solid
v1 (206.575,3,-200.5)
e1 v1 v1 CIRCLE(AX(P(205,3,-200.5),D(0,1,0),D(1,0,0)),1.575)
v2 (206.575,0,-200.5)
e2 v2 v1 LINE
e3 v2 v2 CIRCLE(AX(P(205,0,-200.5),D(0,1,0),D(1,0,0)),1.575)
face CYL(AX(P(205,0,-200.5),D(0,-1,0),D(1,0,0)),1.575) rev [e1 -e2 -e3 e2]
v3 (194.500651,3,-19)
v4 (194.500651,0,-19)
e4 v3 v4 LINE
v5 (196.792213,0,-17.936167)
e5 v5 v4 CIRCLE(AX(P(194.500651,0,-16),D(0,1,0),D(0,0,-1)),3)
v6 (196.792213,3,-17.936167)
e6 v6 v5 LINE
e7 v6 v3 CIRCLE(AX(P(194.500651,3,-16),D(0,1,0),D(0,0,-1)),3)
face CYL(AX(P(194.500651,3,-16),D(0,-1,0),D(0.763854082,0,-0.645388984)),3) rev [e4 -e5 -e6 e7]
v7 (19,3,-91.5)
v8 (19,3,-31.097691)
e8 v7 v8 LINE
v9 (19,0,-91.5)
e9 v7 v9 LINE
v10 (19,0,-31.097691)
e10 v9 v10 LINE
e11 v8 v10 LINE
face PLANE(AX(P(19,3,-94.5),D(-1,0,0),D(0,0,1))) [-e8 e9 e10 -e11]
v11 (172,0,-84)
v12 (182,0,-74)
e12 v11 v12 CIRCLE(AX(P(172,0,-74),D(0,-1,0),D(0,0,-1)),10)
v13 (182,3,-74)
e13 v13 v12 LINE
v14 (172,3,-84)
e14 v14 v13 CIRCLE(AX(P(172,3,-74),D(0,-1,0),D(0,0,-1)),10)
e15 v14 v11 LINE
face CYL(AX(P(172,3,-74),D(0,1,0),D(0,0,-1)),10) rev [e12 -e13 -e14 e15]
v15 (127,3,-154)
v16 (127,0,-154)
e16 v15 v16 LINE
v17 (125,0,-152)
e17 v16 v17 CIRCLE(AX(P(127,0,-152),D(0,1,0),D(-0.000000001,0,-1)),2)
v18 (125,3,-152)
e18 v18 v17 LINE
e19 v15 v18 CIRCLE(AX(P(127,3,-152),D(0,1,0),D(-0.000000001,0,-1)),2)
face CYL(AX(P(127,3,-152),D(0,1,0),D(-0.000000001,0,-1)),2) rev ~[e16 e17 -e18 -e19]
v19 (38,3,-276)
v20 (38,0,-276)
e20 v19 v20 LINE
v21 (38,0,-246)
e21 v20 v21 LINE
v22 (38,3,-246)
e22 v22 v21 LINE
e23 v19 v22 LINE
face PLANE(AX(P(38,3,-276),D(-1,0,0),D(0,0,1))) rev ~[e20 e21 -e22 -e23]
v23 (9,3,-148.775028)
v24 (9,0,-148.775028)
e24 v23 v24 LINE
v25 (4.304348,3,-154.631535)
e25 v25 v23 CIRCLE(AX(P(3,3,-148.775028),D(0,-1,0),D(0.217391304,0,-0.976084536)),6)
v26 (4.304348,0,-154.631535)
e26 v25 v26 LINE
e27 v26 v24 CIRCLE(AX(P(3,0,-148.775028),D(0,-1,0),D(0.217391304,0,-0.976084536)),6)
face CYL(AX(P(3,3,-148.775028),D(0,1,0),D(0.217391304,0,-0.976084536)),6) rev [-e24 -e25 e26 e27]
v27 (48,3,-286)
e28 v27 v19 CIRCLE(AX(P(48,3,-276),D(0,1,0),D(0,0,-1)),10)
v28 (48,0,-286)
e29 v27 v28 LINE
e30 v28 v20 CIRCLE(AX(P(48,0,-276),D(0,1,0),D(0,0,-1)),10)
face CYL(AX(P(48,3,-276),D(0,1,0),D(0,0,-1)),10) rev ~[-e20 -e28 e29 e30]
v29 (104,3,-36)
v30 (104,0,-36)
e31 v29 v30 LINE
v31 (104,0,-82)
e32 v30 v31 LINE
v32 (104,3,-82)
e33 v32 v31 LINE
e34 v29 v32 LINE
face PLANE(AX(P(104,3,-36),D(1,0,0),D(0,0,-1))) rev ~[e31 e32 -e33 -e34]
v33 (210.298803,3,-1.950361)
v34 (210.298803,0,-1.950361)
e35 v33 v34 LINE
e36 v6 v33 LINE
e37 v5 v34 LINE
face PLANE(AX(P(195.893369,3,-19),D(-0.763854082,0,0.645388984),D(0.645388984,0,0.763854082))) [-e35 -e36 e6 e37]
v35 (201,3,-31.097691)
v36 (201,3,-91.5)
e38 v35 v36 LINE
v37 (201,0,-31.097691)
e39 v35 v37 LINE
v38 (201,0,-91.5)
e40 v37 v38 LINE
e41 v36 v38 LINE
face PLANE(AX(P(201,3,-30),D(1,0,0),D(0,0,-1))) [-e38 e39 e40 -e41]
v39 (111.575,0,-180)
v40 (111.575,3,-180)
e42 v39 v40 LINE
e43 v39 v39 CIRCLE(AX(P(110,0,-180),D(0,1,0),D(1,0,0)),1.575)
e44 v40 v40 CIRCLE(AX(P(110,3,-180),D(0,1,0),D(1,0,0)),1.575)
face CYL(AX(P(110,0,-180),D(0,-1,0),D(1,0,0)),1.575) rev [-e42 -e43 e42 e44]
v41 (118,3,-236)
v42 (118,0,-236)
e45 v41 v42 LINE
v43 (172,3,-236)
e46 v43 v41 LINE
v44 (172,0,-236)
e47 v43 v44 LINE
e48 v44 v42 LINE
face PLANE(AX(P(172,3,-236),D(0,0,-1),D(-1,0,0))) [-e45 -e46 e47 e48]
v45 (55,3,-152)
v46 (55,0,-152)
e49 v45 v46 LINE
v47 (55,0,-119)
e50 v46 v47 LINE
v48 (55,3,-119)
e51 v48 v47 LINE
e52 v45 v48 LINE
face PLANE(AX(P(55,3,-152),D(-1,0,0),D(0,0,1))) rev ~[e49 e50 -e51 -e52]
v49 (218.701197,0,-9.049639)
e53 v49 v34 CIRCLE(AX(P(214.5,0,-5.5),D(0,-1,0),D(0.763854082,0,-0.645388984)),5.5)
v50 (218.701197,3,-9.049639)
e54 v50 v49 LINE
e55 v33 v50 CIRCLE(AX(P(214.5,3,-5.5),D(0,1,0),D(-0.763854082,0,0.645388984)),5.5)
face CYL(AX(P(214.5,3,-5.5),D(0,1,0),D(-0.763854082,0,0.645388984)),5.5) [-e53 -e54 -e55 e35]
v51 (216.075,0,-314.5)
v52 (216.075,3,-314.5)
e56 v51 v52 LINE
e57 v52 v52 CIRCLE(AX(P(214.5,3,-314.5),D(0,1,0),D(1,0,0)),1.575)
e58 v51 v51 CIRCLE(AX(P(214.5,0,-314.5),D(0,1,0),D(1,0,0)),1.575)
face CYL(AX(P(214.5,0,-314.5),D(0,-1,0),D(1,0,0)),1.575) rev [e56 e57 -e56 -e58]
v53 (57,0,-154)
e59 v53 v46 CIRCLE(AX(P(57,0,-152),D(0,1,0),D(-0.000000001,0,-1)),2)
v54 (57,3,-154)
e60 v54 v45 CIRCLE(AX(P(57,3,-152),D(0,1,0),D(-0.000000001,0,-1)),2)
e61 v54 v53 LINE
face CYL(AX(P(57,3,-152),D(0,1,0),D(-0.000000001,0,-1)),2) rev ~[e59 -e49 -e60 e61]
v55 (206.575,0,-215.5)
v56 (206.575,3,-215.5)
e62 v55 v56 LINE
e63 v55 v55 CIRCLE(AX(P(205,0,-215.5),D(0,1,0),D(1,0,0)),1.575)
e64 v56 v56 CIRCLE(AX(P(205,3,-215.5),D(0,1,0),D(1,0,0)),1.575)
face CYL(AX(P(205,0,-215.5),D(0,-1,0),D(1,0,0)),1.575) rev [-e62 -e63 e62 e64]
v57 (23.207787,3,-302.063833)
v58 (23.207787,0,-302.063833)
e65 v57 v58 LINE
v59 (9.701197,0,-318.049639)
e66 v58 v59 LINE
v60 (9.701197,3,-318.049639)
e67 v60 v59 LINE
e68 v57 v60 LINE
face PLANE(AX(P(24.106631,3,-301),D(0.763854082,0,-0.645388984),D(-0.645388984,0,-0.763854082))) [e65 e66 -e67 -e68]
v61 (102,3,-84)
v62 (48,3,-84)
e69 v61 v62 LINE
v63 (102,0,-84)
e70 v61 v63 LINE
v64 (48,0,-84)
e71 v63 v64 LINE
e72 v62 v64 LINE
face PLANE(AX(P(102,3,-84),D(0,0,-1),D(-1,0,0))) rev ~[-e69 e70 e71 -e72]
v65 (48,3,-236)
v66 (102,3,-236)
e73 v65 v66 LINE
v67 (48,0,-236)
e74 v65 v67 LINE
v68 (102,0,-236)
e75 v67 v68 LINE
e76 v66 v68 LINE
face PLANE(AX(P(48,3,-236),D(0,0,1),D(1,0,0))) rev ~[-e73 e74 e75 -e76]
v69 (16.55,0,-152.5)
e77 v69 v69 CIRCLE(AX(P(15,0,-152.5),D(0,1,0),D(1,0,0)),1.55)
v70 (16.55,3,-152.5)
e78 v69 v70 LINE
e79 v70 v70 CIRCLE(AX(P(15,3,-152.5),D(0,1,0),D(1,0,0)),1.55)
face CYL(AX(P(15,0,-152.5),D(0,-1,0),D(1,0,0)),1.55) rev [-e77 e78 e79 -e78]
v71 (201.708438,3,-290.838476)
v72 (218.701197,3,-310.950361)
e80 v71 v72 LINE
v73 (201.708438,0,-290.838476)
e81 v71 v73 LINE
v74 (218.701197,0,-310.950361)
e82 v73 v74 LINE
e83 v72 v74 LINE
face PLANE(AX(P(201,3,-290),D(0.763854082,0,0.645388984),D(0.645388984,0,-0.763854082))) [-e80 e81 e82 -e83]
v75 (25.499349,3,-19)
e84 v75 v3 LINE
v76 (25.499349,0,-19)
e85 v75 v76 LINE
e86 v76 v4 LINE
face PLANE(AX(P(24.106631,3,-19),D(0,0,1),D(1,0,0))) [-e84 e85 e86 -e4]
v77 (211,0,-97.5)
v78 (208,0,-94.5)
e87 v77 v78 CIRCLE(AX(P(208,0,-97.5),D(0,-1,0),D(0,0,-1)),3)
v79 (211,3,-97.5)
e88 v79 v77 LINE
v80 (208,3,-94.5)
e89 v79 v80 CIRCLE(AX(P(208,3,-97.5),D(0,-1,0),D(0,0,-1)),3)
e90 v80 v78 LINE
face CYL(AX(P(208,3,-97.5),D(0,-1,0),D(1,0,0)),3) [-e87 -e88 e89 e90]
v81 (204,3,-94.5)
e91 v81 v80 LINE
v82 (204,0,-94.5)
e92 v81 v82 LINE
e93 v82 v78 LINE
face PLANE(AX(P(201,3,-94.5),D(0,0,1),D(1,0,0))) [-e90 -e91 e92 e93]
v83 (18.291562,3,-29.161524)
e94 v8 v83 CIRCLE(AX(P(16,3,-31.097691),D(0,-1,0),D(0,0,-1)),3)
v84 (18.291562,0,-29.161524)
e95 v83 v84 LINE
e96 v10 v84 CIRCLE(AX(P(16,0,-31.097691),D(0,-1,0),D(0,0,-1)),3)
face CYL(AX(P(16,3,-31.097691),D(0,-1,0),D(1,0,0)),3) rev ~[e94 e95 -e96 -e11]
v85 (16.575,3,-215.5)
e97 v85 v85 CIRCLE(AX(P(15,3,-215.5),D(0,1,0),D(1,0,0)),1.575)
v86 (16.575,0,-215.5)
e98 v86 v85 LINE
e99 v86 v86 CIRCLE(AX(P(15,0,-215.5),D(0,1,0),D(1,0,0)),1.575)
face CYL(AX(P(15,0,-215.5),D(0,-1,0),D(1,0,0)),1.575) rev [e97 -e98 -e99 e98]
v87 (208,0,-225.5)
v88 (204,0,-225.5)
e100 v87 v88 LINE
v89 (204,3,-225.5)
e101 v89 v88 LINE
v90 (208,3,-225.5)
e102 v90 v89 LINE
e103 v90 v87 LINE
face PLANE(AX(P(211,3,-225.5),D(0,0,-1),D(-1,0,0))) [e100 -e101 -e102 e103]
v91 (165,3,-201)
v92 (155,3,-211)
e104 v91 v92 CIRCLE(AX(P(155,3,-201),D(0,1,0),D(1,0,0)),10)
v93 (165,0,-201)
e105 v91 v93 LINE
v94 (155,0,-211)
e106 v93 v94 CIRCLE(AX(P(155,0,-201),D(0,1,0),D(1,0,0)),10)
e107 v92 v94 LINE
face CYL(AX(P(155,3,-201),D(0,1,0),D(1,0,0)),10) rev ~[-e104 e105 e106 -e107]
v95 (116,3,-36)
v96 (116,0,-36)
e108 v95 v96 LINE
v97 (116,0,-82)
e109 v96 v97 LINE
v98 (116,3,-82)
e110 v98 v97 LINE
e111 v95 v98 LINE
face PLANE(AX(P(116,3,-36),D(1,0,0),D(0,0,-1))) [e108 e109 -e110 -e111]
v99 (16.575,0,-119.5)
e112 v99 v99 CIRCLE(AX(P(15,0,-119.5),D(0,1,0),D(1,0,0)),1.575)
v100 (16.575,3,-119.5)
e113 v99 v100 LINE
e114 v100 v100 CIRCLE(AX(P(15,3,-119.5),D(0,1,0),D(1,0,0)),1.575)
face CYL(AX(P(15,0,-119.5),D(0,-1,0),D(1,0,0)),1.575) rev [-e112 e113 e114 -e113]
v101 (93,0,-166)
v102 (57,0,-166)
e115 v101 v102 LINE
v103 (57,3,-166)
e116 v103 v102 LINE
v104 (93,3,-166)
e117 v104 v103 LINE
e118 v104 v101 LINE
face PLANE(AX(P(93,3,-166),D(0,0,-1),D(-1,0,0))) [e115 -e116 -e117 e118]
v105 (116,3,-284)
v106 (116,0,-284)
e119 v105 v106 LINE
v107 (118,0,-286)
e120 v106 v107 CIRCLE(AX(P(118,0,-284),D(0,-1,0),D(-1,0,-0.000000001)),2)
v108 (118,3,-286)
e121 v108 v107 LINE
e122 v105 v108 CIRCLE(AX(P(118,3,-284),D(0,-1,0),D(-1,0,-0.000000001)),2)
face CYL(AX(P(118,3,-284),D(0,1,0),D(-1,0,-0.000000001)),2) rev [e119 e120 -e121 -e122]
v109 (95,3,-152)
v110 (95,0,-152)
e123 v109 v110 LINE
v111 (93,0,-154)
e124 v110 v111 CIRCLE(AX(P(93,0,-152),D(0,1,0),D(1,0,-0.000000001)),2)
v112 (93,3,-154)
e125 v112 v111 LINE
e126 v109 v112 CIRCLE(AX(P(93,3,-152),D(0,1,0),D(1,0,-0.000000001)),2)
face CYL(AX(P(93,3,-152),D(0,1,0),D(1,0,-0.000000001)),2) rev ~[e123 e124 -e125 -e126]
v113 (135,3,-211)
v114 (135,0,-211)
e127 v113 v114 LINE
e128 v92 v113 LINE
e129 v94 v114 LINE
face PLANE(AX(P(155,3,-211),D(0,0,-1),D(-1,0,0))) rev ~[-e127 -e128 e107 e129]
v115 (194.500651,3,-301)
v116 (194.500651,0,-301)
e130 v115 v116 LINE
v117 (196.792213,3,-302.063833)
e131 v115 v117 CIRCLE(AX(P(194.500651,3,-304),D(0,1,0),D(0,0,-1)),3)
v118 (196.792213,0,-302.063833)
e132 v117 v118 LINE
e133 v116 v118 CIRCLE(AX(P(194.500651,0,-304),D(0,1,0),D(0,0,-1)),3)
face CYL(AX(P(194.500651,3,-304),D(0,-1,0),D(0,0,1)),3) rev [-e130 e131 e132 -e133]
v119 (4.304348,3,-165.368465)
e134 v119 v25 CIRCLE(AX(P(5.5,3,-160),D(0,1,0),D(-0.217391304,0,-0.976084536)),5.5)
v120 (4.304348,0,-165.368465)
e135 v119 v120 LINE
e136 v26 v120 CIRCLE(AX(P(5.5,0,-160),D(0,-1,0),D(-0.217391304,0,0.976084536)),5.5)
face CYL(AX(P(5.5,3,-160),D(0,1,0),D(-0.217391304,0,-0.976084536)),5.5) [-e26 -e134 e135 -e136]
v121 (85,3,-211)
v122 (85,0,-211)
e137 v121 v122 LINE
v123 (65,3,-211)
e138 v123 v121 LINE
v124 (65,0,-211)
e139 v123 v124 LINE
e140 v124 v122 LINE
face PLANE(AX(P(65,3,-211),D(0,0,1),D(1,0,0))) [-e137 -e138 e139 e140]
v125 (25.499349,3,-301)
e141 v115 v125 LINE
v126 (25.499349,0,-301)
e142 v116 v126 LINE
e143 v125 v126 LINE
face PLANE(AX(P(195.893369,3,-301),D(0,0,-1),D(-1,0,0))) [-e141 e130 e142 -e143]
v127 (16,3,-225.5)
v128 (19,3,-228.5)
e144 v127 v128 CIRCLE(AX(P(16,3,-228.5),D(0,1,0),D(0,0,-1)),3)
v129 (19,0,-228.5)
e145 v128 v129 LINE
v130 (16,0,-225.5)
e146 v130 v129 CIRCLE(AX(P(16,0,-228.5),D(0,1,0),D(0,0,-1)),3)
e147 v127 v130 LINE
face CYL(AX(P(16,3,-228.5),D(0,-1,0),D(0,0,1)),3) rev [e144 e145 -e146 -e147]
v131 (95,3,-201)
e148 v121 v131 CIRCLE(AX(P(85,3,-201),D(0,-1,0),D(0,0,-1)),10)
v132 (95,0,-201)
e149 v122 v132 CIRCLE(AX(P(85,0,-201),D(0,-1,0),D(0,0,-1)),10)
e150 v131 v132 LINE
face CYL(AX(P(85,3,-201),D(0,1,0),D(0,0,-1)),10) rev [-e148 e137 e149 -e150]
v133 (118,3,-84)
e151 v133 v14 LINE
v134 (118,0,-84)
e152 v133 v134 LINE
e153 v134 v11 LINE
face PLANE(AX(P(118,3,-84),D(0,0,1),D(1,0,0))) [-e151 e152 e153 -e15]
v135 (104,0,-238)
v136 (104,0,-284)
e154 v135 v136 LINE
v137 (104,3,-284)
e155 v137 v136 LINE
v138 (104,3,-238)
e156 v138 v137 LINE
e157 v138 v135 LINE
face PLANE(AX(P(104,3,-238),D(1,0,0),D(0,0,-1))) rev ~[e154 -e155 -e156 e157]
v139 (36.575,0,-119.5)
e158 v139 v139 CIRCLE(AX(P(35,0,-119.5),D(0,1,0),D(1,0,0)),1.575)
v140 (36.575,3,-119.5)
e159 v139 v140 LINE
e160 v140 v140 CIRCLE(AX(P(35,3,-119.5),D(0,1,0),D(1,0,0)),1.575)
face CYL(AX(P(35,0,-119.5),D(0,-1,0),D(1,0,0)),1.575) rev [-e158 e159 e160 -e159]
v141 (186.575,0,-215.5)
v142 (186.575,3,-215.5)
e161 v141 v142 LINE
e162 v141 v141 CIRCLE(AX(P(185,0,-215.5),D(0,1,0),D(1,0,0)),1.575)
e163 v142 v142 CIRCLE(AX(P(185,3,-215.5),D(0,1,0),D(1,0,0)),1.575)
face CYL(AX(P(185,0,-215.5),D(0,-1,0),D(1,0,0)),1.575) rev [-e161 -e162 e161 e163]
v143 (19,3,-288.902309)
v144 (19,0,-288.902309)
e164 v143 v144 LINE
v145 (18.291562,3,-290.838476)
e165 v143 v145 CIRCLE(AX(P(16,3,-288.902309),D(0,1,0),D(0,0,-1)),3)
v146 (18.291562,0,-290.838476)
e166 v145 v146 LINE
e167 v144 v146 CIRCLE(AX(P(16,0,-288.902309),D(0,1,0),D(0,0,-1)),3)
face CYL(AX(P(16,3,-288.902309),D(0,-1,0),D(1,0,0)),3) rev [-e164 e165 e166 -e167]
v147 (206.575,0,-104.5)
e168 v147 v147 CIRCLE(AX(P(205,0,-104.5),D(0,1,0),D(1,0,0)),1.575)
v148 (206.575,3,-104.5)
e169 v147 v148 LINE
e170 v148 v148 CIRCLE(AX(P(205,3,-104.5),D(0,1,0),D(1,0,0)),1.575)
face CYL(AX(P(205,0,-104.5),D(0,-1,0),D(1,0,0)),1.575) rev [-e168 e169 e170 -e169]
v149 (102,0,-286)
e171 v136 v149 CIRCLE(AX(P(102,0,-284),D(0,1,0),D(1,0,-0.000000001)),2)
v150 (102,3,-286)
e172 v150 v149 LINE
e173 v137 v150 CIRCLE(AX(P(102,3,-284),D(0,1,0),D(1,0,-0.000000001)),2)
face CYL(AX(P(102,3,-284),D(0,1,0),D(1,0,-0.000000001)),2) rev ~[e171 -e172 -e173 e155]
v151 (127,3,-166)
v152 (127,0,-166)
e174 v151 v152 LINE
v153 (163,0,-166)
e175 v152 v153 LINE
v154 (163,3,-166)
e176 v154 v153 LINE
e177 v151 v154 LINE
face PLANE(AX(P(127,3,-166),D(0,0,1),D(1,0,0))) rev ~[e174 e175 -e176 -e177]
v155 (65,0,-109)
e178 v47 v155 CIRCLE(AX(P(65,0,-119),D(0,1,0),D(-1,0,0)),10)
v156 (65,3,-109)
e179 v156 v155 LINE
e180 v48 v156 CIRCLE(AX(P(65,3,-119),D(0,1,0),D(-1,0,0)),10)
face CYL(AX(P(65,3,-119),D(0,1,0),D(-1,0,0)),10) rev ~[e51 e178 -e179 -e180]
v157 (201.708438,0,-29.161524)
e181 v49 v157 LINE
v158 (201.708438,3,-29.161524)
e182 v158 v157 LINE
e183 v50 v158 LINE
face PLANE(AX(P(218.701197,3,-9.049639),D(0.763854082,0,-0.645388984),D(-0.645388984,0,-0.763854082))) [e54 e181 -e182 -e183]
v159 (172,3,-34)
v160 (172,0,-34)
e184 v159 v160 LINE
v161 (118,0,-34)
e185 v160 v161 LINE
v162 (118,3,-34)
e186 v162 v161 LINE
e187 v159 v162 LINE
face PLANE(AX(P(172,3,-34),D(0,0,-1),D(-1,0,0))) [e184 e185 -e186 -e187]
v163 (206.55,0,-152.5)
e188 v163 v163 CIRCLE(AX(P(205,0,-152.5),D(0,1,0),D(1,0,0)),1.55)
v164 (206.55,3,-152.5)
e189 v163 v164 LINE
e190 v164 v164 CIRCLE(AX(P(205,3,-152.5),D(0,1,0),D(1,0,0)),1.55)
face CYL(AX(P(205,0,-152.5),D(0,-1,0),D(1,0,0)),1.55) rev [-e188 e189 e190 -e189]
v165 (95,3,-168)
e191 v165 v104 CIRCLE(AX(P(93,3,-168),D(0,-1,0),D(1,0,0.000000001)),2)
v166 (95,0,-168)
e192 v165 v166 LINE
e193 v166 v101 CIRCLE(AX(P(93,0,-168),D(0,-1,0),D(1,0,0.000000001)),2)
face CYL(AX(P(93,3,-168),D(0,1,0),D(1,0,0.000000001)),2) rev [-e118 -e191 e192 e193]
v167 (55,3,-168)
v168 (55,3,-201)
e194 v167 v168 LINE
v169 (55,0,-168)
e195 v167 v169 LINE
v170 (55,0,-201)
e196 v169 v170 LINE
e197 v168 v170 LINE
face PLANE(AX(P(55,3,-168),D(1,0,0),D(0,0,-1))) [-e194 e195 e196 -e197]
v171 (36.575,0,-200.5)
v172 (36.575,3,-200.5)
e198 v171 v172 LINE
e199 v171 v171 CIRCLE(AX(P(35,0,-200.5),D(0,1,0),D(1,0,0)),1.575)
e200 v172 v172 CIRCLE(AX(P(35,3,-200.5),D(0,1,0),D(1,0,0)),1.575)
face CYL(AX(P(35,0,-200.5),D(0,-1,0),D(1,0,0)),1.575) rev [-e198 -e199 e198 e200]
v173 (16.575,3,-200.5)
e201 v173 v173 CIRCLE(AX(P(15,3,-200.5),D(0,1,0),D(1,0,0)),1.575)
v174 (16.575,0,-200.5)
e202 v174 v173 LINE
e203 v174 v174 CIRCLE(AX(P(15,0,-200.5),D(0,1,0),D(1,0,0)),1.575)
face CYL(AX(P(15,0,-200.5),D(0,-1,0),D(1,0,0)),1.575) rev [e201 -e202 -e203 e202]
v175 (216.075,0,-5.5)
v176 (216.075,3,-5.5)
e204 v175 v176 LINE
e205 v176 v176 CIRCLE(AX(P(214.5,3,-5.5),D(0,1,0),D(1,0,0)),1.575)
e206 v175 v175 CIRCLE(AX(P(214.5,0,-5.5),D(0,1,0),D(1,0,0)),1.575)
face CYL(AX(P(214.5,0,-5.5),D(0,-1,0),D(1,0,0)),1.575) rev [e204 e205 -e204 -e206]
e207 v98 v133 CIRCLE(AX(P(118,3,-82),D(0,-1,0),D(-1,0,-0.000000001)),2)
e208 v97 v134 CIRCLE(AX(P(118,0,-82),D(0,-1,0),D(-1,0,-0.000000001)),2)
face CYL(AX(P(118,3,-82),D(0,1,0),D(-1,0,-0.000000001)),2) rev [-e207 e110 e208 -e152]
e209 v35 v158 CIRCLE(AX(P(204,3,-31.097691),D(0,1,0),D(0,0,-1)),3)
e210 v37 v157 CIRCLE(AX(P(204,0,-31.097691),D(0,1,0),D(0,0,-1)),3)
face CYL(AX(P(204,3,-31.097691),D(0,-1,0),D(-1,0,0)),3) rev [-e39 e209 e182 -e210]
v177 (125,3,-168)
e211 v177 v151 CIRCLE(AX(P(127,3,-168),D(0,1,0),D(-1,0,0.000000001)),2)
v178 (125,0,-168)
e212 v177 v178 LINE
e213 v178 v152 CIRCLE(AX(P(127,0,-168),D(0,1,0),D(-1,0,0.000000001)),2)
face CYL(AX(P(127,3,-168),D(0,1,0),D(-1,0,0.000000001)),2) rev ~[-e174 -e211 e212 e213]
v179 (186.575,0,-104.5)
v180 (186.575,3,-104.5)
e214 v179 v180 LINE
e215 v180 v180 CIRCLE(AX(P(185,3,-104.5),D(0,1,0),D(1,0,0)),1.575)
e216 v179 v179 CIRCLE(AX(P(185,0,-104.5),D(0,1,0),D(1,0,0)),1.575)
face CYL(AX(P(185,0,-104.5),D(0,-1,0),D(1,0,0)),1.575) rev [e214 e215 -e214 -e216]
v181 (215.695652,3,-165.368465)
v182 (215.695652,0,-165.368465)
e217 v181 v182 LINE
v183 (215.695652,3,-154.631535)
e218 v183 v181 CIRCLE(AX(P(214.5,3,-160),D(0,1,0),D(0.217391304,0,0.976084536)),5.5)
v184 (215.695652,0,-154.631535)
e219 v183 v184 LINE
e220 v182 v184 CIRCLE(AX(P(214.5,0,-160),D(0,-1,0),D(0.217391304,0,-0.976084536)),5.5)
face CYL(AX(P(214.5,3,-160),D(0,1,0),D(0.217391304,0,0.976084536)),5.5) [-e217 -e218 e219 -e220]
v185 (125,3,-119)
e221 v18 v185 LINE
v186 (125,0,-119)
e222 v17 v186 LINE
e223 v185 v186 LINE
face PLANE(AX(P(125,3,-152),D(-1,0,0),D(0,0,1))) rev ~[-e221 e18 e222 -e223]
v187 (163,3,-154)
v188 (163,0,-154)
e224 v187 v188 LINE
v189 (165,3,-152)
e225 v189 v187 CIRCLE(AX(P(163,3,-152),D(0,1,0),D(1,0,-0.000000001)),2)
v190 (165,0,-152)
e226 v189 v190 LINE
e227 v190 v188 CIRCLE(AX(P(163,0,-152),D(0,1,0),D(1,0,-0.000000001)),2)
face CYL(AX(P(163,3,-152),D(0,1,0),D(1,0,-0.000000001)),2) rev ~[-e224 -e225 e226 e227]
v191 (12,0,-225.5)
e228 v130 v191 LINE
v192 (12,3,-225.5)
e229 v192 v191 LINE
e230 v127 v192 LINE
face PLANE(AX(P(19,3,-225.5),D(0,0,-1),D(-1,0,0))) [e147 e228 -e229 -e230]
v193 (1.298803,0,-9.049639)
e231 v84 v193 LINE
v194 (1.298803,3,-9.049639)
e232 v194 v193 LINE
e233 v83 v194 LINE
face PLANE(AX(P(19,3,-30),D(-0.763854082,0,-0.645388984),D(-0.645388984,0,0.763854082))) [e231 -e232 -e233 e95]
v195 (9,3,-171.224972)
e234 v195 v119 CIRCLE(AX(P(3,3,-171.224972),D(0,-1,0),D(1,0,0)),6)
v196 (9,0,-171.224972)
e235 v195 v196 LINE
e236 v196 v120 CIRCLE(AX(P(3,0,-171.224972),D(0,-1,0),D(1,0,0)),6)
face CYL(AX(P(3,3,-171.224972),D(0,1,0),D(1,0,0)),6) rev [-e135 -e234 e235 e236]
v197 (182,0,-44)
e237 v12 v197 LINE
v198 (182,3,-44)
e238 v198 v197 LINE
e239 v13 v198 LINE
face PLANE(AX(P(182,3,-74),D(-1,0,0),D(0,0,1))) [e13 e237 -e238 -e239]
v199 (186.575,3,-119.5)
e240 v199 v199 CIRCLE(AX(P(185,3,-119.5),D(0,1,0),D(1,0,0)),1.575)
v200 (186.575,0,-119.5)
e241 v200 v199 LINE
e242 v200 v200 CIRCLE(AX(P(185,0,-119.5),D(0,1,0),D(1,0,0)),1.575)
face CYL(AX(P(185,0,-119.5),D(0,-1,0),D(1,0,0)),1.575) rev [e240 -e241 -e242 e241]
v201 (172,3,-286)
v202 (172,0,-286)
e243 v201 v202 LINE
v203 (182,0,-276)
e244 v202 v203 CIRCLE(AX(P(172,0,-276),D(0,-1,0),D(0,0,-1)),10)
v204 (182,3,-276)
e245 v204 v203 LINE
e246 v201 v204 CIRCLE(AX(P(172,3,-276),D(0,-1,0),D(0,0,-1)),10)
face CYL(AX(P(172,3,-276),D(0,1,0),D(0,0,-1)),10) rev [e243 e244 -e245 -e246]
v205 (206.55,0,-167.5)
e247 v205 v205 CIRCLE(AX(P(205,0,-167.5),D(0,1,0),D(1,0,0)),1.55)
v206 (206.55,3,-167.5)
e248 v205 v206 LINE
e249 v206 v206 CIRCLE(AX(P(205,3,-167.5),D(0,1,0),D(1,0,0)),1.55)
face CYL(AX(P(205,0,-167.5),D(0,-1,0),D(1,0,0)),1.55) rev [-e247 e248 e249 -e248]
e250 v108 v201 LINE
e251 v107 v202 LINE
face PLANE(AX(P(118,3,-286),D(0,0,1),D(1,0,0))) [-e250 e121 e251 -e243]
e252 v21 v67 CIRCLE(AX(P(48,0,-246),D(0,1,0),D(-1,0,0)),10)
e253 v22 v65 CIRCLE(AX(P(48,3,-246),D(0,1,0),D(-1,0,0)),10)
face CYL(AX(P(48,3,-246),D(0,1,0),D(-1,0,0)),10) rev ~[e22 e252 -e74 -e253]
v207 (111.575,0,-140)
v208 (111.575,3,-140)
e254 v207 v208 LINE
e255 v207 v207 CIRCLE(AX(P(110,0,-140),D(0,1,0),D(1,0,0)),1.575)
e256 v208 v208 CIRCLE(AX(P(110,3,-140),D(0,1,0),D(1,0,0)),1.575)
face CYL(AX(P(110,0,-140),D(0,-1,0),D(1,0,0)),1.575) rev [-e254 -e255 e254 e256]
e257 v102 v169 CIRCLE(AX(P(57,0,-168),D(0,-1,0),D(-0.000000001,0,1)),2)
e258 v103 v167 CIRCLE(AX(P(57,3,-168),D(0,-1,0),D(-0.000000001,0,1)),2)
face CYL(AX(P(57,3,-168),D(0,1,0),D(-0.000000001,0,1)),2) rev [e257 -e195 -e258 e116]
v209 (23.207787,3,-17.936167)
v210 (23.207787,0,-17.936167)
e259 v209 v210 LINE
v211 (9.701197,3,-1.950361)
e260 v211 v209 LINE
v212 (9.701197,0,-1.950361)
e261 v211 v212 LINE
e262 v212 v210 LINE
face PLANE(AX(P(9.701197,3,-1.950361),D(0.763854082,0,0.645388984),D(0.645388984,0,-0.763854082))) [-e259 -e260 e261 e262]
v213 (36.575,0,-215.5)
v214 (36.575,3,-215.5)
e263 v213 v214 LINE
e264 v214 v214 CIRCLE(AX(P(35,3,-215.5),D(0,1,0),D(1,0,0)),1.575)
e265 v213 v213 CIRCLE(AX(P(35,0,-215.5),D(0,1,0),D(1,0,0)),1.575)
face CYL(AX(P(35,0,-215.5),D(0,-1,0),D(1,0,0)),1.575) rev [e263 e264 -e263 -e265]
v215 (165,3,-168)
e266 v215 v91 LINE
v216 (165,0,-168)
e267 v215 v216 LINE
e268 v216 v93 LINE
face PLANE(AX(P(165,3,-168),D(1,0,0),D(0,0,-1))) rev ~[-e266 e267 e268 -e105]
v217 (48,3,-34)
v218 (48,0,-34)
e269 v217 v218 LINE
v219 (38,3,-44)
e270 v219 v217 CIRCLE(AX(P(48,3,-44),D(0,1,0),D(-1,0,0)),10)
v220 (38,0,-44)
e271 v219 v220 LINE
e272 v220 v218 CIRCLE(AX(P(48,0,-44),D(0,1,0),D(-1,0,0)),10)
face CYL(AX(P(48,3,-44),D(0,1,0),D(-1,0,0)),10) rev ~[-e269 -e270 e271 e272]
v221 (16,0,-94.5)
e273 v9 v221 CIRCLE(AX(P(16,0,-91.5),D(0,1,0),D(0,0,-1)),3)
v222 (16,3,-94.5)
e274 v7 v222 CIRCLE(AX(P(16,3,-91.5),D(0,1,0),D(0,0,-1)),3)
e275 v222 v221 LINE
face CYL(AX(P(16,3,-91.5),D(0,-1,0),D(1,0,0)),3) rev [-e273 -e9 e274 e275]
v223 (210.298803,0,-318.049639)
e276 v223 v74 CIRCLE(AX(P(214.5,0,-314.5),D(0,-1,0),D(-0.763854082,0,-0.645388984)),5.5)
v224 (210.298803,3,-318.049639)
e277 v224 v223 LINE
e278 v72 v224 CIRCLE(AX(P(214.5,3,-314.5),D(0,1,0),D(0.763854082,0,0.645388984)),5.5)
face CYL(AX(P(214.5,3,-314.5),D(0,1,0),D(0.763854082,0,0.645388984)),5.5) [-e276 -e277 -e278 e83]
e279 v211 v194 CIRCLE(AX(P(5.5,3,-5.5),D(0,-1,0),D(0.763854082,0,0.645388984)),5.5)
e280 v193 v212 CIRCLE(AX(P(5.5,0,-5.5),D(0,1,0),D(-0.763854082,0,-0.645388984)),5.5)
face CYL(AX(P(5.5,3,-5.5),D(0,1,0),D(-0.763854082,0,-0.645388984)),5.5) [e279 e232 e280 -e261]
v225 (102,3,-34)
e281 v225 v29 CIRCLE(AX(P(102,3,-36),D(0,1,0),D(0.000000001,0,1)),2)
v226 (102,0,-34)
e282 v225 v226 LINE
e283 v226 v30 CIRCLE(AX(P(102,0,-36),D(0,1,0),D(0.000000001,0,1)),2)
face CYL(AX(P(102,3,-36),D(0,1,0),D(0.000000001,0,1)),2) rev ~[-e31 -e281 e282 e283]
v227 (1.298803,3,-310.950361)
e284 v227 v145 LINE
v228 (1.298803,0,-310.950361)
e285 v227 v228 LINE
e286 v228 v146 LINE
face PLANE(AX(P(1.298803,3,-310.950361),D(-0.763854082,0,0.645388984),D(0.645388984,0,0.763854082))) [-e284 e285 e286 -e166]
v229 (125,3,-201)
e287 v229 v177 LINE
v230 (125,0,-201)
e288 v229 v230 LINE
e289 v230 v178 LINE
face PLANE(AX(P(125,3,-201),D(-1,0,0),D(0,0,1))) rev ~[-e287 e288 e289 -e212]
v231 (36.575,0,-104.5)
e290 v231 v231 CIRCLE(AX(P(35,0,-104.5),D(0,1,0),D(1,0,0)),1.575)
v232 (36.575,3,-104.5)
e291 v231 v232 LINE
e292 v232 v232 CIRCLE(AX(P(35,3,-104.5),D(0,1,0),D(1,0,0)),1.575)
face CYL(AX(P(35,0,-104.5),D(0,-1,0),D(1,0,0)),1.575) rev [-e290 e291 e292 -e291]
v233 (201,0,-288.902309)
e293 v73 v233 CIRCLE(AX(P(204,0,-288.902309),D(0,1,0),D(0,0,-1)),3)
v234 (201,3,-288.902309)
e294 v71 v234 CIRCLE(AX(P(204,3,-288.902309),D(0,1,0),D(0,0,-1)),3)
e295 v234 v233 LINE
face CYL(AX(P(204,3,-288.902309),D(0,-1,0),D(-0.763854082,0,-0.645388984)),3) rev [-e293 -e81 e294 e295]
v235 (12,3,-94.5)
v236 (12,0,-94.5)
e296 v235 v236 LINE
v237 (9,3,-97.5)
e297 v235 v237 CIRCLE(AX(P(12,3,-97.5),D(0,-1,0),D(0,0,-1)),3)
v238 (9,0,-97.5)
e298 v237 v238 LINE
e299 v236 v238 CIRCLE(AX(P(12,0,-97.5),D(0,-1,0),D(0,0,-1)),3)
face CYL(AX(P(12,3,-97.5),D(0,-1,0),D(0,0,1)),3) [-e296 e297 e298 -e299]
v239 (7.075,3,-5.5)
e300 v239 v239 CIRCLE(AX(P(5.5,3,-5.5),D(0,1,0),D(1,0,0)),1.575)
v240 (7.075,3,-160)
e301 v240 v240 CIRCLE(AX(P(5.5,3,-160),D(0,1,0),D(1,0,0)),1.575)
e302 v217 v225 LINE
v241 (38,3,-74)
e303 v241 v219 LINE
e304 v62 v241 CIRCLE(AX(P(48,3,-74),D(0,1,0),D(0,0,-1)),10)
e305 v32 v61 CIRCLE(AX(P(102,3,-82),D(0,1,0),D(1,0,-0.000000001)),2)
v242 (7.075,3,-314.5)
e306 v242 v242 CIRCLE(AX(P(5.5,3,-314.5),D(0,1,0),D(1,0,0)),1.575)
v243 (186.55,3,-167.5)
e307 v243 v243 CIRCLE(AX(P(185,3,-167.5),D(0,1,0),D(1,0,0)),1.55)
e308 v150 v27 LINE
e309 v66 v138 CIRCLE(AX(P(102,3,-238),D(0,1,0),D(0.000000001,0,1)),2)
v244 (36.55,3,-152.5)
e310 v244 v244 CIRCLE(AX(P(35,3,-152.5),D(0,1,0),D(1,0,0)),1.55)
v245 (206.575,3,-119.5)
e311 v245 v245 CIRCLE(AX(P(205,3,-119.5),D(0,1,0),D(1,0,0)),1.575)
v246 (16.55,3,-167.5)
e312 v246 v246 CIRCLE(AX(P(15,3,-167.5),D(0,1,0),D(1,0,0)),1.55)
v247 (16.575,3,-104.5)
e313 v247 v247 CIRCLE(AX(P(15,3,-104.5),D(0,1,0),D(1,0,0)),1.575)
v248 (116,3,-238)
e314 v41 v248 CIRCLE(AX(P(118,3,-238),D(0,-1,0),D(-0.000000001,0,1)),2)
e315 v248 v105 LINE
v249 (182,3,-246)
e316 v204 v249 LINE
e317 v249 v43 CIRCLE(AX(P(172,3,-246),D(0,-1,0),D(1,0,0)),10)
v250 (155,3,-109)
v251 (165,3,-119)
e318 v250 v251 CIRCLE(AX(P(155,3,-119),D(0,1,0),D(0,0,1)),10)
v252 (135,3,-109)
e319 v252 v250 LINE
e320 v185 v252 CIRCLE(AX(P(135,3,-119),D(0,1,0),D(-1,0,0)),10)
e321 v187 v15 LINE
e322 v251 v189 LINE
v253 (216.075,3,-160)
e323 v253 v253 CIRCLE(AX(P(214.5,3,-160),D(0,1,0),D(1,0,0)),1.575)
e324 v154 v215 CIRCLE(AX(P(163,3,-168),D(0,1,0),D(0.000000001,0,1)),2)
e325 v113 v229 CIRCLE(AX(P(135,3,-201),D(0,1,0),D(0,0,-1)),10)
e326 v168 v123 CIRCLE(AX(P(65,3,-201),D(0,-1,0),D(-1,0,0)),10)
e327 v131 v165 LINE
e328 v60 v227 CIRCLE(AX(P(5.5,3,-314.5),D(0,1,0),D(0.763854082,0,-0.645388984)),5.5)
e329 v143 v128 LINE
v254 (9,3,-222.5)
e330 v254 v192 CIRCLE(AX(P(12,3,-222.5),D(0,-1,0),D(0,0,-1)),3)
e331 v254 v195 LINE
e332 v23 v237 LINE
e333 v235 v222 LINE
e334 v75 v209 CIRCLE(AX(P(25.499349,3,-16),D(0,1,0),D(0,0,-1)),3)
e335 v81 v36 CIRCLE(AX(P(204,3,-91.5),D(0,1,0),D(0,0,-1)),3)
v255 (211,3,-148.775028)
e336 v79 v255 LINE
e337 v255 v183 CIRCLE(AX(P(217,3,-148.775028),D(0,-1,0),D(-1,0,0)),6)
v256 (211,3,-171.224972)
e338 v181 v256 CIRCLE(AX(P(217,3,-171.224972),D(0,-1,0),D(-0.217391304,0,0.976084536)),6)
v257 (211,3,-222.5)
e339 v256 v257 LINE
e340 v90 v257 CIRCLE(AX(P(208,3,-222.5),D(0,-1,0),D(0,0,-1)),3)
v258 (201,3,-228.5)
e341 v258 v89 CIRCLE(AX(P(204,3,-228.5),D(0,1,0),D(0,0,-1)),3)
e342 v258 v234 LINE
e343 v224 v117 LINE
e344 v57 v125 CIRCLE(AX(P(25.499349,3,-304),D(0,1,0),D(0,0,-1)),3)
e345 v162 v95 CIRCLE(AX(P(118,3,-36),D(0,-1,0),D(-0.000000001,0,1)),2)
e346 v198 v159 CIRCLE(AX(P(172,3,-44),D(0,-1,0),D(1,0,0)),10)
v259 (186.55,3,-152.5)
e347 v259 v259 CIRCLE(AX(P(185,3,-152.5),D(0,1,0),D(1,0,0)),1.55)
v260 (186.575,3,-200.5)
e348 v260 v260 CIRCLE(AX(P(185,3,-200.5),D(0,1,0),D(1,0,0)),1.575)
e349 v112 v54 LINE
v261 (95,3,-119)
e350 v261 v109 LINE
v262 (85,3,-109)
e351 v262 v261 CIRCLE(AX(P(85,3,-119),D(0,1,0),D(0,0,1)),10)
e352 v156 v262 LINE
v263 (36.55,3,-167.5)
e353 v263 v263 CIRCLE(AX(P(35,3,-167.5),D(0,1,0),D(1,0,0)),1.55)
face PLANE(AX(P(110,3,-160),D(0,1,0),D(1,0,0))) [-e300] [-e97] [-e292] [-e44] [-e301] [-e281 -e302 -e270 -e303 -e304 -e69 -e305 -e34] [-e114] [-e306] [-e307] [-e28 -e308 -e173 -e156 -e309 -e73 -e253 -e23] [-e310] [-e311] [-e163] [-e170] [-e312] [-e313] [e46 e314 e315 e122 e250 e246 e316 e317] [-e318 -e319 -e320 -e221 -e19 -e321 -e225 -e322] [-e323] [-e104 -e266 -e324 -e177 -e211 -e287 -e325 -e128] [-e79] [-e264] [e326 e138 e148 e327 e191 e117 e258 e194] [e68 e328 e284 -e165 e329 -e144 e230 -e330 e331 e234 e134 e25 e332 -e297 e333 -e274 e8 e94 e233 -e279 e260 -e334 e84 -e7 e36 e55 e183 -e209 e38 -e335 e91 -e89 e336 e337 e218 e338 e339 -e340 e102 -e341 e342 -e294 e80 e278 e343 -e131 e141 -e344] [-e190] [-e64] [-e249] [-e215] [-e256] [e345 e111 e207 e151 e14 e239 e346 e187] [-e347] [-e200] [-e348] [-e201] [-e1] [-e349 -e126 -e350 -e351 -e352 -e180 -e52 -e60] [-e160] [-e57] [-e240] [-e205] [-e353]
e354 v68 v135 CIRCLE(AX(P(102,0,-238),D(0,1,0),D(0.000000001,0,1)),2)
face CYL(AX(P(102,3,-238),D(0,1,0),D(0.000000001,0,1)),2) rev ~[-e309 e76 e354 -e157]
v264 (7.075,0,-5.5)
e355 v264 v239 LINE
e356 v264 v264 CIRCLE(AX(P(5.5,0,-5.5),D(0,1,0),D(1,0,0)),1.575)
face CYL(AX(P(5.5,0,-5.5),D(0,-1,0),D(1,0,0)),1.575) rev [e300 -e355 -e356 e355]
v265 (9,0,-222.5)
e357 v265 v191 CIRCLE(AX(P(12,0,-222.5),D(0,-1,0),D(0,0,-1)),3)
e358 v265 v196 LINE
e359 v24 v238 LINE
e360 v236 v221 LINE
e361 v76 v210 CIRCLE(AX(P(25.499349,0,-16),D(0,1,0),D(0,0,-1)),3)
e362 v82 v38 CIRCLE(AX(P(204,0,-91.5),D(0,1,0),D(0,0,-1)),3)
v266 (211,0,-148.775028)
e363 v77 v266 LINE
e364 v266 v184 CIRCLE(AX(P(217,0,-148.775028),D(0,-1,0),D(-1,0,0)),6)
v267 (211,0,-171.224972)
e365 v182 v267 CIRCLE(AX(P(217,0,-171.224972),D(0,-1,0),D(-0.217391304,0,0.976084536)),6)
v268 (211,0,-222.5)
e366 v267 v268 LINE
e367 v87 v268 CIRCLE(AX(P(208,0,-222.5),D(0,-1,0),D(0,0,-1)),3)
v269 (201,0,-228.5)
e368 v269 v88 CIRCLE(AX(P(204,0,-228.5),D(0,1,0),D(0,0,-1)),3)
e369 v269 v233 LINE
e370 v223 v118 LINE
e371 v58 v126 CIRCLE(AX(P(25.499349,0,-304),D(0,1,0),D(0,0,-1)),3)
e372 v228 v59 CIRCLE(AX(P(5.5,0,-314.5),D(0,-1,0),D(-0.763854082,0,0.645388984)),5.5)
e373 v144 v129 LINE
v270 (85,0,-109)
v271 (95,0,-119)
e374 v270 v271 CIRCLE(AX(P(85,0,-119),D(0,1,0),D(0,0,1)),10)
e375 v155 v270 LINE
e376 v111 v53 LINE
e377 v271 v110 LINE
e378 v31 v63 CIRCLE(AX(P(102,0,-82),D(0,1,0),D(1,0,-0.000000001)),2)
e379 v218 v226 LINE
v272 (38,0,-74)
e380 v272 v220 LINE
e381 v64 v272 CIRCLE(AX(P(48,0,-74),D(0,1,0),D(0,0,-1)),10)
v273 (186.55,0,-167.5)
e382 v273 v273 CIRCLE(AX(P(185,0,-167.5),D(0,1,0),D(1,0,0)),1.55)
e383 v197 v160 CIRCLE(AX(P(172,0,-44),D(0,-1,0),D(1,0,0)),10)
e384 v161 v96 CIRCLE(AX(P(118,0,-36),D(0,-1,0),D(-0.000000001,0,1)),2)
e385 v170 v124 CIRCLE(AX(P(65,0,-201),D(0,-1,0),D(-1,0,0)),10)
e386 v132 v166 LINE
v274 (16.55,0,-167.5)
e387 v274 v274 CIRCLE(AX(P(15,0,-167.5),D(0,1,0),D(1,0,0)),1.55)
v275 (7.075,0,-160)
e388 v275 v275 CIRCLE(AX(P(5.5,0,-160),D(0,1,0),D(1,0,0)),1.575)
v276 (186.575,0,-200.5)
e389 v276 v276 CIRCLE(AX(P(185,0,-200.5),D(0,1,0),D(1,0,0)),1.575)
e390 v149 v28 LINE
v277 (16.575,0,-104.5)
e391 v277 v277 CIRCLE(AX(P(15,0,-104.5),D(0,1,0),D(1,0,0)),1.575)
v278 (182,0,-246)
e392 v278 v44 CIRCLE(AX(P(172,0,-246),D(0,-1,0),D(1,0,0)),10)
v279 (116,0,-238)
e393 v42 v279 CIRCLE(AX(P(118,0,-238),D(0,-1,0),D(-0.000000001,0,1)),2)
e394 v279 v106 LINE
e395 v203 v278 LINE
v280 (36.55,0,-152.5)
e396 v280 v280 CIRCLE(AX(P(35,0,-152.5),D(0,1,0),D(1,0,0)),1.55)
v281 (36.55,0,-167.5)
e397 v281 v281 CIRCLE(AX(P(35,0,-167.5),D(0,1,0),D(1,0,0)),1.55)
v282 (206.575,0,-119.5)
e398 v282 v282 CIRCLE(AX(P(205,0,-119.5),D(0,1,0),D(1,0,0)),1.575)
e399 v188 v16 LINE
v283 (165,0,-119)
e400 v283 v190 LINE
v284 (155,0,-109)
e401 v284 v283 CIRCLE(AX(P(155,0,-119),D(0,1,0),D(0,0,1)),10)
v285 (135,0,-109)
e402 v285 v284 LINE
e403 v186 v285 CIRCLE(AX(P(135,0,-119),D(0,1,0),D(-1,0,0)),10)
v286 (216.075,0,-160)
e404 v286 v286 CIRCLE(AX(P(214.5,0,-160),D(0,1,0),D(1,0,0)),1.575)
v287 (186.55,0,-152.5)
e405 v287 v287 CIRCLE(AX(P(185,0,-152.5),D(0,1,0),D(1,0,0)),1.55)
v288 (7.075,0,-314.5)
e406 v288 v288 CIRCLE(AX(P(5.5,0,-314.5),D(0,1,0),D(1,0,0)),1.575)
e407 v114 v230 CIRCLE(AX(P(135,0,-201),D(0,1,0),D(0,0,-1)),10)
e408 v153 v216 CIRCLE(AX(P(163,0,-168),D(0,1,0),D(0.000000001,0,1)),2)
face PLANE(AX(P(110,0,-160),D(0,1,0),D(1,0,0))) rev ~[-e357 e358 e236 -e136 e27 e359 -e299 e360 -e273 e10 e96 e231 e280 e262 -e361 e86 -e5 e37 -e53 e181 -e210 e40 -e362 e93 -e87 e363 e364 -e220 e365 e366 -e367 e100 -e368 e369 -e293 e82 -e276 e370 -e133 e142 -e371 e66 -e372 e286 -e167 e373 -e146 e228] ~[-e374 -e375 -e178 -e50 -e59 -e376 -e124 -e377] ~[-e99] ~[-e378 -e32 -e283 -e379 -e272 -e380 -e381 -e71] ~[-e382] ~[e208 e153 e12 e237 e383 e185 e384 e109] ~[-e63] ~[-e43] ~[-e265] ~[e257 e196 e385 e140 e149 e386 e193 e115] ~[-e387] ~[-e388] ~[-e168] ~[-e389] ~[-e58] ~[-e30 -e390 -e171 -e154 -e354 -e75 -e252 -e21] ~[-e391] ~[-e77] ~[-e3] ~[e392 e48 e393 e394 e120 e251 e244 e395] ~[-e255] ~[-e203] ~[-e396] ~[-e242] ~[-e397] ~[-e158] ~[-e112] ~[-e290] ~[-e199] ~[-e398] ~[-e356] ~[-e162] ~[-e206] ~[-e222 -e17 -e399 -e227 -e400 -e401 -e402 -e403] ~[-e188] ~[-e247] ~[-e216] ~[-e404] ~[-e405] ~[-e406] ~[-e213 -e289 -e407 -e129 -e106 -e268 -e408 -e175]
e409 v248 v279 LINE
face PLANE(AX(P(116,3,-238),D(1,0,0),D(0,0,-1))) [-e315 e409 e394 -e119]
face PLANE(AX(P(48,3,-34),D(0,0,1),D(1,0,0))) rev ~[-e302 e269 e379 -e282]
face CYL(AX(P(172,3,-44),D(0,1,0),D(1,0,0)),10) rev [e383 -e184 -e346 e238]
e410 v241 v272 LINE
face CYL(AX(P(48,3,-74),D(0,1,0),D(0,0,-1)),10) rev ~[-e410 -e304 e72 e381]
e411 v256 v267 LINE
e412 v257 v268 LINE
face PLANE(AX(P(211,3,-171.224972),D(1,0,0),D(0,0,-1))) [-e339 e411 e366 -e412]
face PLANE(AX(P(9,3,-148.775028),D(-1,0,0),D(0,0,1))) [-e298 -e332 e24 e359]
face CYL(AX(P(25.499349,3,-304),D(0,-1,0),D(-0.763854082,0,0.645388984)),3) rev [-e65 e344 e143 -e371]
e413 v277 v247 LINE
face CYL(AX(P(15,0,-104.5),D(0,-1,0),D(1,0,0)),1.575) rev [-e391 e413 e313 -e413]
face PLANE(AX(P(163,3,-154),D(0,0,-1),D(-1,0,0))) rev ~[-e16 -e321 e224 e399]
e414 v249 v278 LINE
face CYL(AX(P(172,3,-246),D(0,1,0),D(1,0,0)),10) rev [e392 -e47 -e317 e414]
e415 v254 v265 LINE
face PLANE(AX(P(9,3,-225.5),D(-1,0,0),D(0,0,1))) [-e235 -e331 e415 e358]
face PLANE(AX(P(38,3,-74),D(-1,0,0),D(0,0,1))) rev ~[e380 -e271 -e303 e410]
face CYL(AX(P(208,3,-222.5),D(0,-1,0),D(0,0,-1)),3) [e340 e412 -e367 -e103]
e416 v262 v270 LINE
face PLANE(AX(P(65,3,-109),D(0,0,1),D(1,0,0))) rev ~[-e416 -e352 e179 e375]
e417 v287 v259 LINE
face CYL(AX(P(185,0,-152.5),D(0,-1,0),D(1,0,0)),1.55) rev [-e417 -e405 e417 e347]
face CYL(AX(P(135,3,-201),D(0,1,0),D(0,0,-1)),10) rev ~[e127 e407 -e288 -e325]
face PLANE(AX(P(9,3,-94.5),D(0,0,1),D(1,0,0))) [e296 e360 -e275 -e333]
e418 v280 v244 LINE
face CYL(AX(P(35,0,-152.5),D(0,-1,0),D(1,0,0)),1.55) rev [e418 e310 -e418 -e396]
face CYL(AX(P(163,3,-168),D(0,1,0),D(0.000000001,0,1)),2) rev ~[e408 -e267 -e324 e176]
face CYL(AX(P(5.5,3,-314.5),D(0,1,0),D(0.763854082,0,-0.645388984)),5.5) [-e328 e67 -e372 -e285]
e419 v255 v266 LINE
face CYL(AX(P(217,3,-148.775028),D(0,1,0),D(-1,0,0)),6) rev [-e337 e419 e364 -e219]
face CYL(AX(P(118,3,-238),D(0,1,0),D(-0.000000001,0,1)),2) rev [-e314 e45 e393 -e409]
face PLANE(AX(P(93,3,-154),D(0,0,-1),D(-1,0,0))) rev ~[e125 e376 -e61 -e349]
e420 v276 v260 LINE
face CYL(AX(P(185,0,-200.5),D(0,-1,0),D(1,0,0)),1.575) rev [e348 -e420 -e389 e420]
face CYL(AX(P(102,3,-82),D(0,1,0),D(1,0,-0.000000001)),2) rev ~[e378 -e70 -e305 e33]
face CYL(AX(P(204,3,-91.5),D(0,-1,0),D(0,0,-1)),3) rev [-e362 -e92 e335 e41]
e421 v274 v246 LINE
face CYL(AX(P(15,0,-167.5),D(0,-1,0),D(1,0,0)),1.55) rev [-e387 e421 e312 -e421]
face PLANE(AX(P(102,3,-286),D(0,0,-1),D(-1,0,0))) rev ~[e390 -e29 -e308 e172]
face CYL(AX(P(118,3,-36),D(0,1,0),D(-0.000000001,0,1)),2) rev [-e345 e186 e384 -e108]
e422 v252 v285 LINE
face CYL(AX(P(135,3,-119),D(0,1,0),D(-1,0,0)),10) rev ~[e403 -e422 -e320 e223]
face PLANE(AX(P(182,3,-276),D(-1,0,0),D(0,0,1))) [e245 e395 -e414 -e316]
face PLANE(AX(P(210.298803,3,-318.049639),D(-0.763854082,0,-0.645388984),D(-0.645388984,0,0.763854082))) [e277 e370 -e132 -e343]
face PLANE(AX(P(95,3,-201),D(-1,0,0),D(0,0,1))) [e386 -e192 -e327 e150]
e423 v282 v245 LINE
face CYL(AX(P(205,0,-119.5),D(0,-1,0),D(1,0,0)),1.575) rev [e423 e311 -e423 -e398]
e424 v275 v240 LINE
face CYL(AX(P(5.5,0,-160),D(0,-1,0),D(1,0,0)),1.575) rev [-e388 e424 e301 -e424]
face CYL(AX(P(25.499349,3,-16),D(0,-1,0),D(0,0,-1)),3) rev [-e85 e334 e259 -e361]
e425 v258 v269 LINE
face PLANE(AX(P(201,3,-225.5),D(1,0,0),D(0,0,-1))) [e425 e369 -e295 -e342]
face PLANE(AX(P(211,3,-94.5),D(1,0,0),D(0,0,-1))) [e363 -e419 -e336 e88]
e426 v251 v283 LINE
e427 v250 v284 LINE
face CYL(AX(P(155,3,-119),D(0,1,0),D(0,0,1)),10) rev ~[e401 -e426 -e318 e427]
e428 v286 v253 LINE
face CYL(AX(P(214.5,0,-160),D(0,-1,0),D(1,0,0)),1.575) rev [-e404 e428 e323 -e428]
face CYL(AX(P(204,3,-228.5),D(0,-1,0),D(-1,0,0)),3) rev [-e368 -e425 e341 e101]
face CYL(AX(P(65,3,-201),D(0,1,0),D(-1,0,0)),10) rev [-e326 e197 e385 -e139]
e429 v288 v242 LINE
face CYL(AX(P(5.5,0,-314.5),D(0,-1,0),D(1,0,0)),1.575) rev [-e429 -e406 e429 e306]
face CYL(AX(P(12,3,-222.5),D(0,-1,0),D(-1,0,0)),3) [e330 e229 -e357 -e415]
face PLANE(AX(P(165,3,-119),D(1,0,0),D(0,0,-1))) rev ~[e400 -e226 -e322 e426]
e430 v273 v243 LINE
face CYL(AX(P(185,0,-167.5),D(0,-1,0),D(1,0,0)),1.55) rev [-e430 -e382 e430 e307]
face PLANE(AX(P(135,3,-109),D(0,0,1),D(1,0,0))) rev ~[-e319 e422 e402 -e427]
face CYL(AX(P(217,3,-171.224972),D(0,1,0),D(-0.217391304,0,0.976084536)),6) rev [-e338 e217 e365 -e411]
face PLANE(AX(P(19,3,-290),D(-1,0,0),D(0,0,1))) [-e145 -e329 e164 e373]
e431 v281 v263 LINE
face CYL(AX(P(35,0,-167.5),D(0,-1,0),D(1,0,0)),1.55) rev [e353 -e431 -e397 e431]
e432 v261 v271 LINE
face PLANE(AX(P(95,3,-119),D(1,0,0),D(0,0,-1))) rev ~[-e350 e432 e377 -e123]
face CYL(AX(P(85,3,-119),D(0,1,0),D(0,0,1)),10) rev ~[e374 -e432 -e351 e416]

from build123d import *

# Parameters (mm, degrees)
CROQUIS1_W              = 220
CROQUIS1_H              = 320
CROQUIS1_R              = 1.55
CROQUIS1_R_2            = 1.575
SALIENTE_EXTRUIR1_DEPTH = 3
CROQUIS2_OUTSIDE_W      = 299.668
CROQUIS2_OUTSIDE_H      = 399.668
CORTAR_EXTRUIR1_DEPTH   = 3
REDONDEO1_R             = 3


with BuildPart() as part:
    # Croquis1 → Saliente-Extruir1 (new body)
    with BuildSketch(Plane(origin=(0, 0, 0), x_dir=(1, 0, 0), z_dir=(0, 1, 0))):
        with Locations((110, 160)):
            Rectangle(CROQUIS1_W, CROQUIS1_H)
        with Locations((185, 167.5)):
            Circle(CROQUIS1_R, mode=Mode.SUBTRACT)
        with Locations((205, 167.5)):
            Circle(CROQUIS1_R, mode=Mode.SUBTRACT)
        with Locations((185, 152.5)):
            Circle(CROQUIS1_R, mode=Mode.SUBTRACT)
        with Locations((205, 152.5)):
            Circle(CROQUIS1_R, mode=Mode.SUBTRACT)
        with Locations((35, 215.5)):
            Circle(CROQUIS1_R_2, mode=Mode.SUBTRACT)
        with Locations((35, 200.5)):
            Circle(CROQUIS1_R_2, mode=Mode.SUBTRACT)
        with Locations((35, 119.5)):
            Circle(CROQUIS1_R_2, mode=Mode.SUBTRACT)
        with Locations((35, 104.5)):
            Circle(CROQUIS1_R_2, mode=Mode.SUBTRACT)
        with Locations((5.5, 314.5)):
            Circle(CROQUIS1_R_2, mode=Mode.SUBTRACT)
        with Locations((214.5, 314.5)):
            Circle(CROQUIS1_R_2, mode=Mode.SUBTRACT)
        with Locations((214.5, 5.5)):
            Circle(CROQUIS1_R_2, mode=Mode.SUBTRACT)
        with Locations((5.5, 5.5)):
            Circle(CROQUIS1_R_2, mode=Mode.SUBTRACT)
        with Locations((15, 200.5)):
            Circle(CROQUIS1_R_2, mode=Mode.SUBTRACT)
        with Locations((15, 215.5)):
            Circle(CROQUIS1_R_2, mode=Mode.SUBTRACT)
        with Locations((15, 104.5)):
            Circle(CROQUIS1_R_2, mode=Mode.SUBTRACT)
        with Locations((15, 119.5)):
            Circle(CROQUIS1_R_2, mode=Mode.SUBTRACT)
        with Locations((110, 180)):
            Circle(CROQUIS1_R_2, mode=Mode.SUBTRACT)
        with Locations((110, 140)):
            Circle(CROQUIS1_R_2, mode=Mode.SUBTRACT)
        with Locations((185, 104.5)):
            Circle(CROQUIS1_R_2, mode=Mode.SUBTRACT)
        with Locations((205, 104.5)):
            Circle(CROQUIS1_R_2, mode=Mode.SUBTRACT)
        with Locations((205, 119.5)):
            Circle(CROQUIS1_R_2, mode=Mode.SUBTRACT)
        with Locations((185, 119.5)):
            Circle(CROQUIS1_R_2, mode=Mode.SUBTRACT)
        with Locations((185, 200.5)):
            Circle(CROQUIS1_R_2, mode=Mode.SUBTRACT)
        with Locations((185, 215.5)):
            Circle(CROQUIS1_R_2, mode=Mode.SUBTRACT)
        with Locations((205, 200.5)):
            Circle(CROQUIS1_R_2, mode=Mode.SUBTRACT)
        with Locations((205, 215.5)):
            Circle(CROQUIS1_R_2, mode=Mode.SUBTRACT)
        with Locations((5.5, 160)):
            Circle(CROQUIS1_R_2, mode=Mode.SUBTRACT)
        with Locations((35, 152.5)):
            Circle(CROQUIS1_R, mode=Mode.SUBTRACT)
        with Locations((15, 152.5)):
            Circle(CROQUIS1_R, mode=Mode.SUBTRACT)
        with Locations((15, 167.5)):
            Circle(CROQUIS1_R, mode=Mode.SUBTRACT)
        with Locations((35, 167.5)):
            Circle(CROQUIS1_R, mode=Mode.SUBTRACT)
        with Locations((214.5, 160)):
            Circle(CROQUIS1_R_2, mode=Mode.SUBTRACT)
    extrude(amount=SALIENTE_EXTRUIR1_DEPTH)

    # Croquis2 outside → Cortar-Extruir1 (cut)
    with BuildSketch(Plane(origin=(0, 3, 0), x_dir=(1, 0, 0), z_dir=(0, 1, 0))):
        with Locations((110, 160)):
            Rectangle(CROQUIS2_OUTSIDE_W, CROQUIS2_OUTSIDE_H)
        with BuildLine():
            Line((9, 148.77502784), (9, 94.5))
            Line((9, 94.5), (19, 94.5))
            Line((19, 94.5), (19, 30))
            Line((19, 30), (1.298802547, 9.049639413))
            ThreePointArc((1.298802547, 9.049639413), (1.950360587, 1.298802547), (9.701197453, 1.950360587))
            Line((9.701197453, 1.950360587), (24.106631311, 19))
            Line((24.106631311, 19), (195.893368689, 19))
            Line((195.893368689, 19), (210.298802547, 1.950360587))
            ThreePointArc((210.298802547, 1.950360587), (218.049639413, 1.298802547), (218.701197453, 9.049639413))
            Line((218.701197453, 9.049639413), (201, 30))
            Line((201, 30), (201, 94.5))
            Line((201, 94.5), (211, 94.5))
            Line((211, 94.5), (211, 148.77502784))
            ThreePointArc((211, 148.77502784), (212.318863014, 152.528287293), (215.695652174, 154.631535054))
            ThreePointArc((215.695652174, 154.631535054), (220, 160), (215.695652174, 165.368464946))
            ThreePointArc((215.695652174, 165.368464946), (212.318863014, 167.471712707), (211, 171.22497216))
            Line((211, 171.22497216), (211, 225.5))
            Line((211, 225.5), (201, 225.5))
            Line((201, 225.5), (201, 290))
            Line((201, 290), (218.701197453, 310.950360587))
            ThreePointArc((218.701197453, 310.950360587), (218.049639413, 318.701197453), (210.298802547, 318.049639413))
            Line((210.298802547, 318.049639413), (195.893368689, 301))
            Line((195.893368689, 301), (24.106631311, 301))
            Line((24.106631311, 301), (9.701197453, 318.049639413))
            ThreePointArc((9.701197453, 318.049639413), (1.950360587, 318.701197453), (1.298802547, 310.950360587))
            Line((1.298802547, 310.950360587), (19, 290))
            Line((19, 290), (19, 225.5))
            Line((19, 225.5), (9, 225.5))
            Line((9, 225.5), (9, 171.22497216))
            ThreePointArc((9, 171.22497216), (7.681136986, 167.471712707), (4.304347826, 165.368464946))
            ThreePointArc((4.304347826, 165.368464946), (0, 160), (4.304347826, 154.631535054))
            ThreePointArc((4.304347826, 154.631535054), (7.681136986, 152.528287293), (9, 148.77502784))
        make_face(mode=Mode.SUBTRACT)
        with BuildLine():
            Line((182, 276), (182, 246))
            ThreePointArc((182, 246), (179.071067812, 238.928932188), (172, 236))
            Line((172, 236), (118, 236))
            ThreePointArc((118, 236), (116.585786438, 236.585786438), (116, 238))
            Line((116, 238), (116, 284))
            ThreePointArc((116, 284), (116.585786438, 285.414213562), (118, 286))
            Line((118, 286), (172, 286))
            ThreePointArc((172, 286), (179.071067812, 283.071067812), (182, 276))
        make_face()
        with BuildLine():
            Line((102, 286), (48, 286))
            ThreePointArc((48, 286), (40.928932188, 283.071067812), (38, 276))
            Line((38, 276), (38, 246))
            ThreePointArc((38, 246), (40.928932188, 238.928932188), (48, 236))
            Line((48, 236), (102, 236))
            ThreePointArc((102, 236), (103.414213562, 236.585786438), (104, 238))
            Line((104, 238), (104, 284))
            ThreePointArc((104, 284), (103.414213562, 285.414213562), (102, 286))
        make_face()
        with BuildLine():
            Line((102, 84), (48, 84))
            ThreePointArc((48, 84), (40.928932188, 81.071067812), (38, 74))
            Line((38, 74), (38, 44))
            ThreePointArc((38, 44), (40.928932188, 36.928932188), (48, 34))
            Line((48, 34), (102, 34))
            ThreePointArc((102, 34), (103.414213562, 34.585786438), (104, 36))
            Line((104, 36), (104, 82))
            ThreePointArc((104, 82), (103.414213562, 83.414213562), (102, 84))
        make_face()
        with BuildLine():
            Line((116, 36), (116, 82))
            ThreePointArc((116, 82), (116.585786438, 83.414213562), (118, 84))
            Line((118, 84), (172, 84))
            ThreePointArc((172, 84), (179.071067812, 81.071067812), (182, 74))
            Line((182, 74), (182, 44))
            ThreePointArc((182, 44), (179.071067812, 36.928932188), (172, 34))
            Line((172, 34), (118, 34))
            ThreePointArc((118, 34), (116.585786438, 34.585786438), (116, 36))
        make_face()
        with BuildLine():
            Line((55, 152), (55, 119))
            ThreePointArc((55, 119), (57.928932188, 111.928932188), (65, 109))
            Line((65, 109), (85, 109))
            ThreePointArc((85, 109), (92.071067812, 111.928932188), (95, 119))
            Line((95, 119), (95, 152))
            ThreePointArc((95, 152), (94.414213562, 153.414213562), (93, 154))
            Line((93, 154), (57, 154))
            ThreePointArc((57, 154), (55.585786438, 153.414213562), (55, 152))
        make_face()
        with BuildLine():
            Line((93, 166), (57, 166))
            ThreePointArc((57, 166), (55.585786438, 166.585786438), (55, 168))
            Line((55, 168), (55, 201))
            ThreePointArc((55, 201), (57.928932188, 208.071067812), (65, 211))
            Line((65, 211), (85, 211))
            ThreePointArc((85, 211), (92.071067812, 208.071067812), (95, 201))
            Line((95, 201), (95, 168))
            ThreePointArc((95, 168), (94.414213562, 166.585786438), (93, 166))
        make_face()
        with BuildLine():
            Line((135, 109), (155, 109))
            ThreePointArc((155, 109), (162.071067812, 111.928932188), (165, 119))
            Line((165, 119), (165, 152))
            ThreePointArc((165, 152), (164.414213562, 153.414213562), (163, 154))
            Line((163, 154), (127, 154))
            ThreePointArc((127, 154), (125.585786438, 153.414213562), (125, 152))
            Line((125, 152), (125, 119))
            ThreePointArc((125, 119), (127.928932188, 111.928932188), (135, 109))
        make_face()
        with BuildLine():
            Line((127, 166), (163, 166))
            ThreePointArc((163, 166), (164.414213562, 166.585786438), (165, 168))
            Line((165, 168), (165, 201))
            ThreePointArc((165, 201), (162.071067812, 208.071067812), (155, 211))
            Line((155, 211), (135, 211))
            ThreePointArc((135, 211), (127.928932188, 208.071067812), (125, 201))
            Line((125, 201), (125, 168))
            ThreePointArc((125, 168), (125.585786438, 166.585786438), (127, 166))
        make_face()
    extrude(amount=-CORTAR_EXTRUIR1_DEPTH, mode=Mode.SUBTRACT)

    # Redondeo1
    redondeo1_edges = [part.edges().sort_by_distance(p)[0] for p in [
        (19, 1.5, -94.5),
        (9, 1.5, -94.5),
        (9, 1.5, -225.5),
        (19, 1.5, -225.5),
        (19, 1.5, -290),
        (24.106631311, 1.5, -301),
        (195.893368689, 1.5, -301),
        (201, 1.5, -290),
        (201, 1.5, -225.5),
        (211, 1.5, -225.5),
        (211, 1.5, -94.5),
        (201, 1.5, -94.5),
        (201, 1.5, -30),
        (195.893368689, 1.5, -19),
        (24.106631311, 1.5, -19),
        (19, 1.5, -30),
    ]]
    fillet(redondeo1_edges, radius=REDONDEO1_R)


solid = part.part
